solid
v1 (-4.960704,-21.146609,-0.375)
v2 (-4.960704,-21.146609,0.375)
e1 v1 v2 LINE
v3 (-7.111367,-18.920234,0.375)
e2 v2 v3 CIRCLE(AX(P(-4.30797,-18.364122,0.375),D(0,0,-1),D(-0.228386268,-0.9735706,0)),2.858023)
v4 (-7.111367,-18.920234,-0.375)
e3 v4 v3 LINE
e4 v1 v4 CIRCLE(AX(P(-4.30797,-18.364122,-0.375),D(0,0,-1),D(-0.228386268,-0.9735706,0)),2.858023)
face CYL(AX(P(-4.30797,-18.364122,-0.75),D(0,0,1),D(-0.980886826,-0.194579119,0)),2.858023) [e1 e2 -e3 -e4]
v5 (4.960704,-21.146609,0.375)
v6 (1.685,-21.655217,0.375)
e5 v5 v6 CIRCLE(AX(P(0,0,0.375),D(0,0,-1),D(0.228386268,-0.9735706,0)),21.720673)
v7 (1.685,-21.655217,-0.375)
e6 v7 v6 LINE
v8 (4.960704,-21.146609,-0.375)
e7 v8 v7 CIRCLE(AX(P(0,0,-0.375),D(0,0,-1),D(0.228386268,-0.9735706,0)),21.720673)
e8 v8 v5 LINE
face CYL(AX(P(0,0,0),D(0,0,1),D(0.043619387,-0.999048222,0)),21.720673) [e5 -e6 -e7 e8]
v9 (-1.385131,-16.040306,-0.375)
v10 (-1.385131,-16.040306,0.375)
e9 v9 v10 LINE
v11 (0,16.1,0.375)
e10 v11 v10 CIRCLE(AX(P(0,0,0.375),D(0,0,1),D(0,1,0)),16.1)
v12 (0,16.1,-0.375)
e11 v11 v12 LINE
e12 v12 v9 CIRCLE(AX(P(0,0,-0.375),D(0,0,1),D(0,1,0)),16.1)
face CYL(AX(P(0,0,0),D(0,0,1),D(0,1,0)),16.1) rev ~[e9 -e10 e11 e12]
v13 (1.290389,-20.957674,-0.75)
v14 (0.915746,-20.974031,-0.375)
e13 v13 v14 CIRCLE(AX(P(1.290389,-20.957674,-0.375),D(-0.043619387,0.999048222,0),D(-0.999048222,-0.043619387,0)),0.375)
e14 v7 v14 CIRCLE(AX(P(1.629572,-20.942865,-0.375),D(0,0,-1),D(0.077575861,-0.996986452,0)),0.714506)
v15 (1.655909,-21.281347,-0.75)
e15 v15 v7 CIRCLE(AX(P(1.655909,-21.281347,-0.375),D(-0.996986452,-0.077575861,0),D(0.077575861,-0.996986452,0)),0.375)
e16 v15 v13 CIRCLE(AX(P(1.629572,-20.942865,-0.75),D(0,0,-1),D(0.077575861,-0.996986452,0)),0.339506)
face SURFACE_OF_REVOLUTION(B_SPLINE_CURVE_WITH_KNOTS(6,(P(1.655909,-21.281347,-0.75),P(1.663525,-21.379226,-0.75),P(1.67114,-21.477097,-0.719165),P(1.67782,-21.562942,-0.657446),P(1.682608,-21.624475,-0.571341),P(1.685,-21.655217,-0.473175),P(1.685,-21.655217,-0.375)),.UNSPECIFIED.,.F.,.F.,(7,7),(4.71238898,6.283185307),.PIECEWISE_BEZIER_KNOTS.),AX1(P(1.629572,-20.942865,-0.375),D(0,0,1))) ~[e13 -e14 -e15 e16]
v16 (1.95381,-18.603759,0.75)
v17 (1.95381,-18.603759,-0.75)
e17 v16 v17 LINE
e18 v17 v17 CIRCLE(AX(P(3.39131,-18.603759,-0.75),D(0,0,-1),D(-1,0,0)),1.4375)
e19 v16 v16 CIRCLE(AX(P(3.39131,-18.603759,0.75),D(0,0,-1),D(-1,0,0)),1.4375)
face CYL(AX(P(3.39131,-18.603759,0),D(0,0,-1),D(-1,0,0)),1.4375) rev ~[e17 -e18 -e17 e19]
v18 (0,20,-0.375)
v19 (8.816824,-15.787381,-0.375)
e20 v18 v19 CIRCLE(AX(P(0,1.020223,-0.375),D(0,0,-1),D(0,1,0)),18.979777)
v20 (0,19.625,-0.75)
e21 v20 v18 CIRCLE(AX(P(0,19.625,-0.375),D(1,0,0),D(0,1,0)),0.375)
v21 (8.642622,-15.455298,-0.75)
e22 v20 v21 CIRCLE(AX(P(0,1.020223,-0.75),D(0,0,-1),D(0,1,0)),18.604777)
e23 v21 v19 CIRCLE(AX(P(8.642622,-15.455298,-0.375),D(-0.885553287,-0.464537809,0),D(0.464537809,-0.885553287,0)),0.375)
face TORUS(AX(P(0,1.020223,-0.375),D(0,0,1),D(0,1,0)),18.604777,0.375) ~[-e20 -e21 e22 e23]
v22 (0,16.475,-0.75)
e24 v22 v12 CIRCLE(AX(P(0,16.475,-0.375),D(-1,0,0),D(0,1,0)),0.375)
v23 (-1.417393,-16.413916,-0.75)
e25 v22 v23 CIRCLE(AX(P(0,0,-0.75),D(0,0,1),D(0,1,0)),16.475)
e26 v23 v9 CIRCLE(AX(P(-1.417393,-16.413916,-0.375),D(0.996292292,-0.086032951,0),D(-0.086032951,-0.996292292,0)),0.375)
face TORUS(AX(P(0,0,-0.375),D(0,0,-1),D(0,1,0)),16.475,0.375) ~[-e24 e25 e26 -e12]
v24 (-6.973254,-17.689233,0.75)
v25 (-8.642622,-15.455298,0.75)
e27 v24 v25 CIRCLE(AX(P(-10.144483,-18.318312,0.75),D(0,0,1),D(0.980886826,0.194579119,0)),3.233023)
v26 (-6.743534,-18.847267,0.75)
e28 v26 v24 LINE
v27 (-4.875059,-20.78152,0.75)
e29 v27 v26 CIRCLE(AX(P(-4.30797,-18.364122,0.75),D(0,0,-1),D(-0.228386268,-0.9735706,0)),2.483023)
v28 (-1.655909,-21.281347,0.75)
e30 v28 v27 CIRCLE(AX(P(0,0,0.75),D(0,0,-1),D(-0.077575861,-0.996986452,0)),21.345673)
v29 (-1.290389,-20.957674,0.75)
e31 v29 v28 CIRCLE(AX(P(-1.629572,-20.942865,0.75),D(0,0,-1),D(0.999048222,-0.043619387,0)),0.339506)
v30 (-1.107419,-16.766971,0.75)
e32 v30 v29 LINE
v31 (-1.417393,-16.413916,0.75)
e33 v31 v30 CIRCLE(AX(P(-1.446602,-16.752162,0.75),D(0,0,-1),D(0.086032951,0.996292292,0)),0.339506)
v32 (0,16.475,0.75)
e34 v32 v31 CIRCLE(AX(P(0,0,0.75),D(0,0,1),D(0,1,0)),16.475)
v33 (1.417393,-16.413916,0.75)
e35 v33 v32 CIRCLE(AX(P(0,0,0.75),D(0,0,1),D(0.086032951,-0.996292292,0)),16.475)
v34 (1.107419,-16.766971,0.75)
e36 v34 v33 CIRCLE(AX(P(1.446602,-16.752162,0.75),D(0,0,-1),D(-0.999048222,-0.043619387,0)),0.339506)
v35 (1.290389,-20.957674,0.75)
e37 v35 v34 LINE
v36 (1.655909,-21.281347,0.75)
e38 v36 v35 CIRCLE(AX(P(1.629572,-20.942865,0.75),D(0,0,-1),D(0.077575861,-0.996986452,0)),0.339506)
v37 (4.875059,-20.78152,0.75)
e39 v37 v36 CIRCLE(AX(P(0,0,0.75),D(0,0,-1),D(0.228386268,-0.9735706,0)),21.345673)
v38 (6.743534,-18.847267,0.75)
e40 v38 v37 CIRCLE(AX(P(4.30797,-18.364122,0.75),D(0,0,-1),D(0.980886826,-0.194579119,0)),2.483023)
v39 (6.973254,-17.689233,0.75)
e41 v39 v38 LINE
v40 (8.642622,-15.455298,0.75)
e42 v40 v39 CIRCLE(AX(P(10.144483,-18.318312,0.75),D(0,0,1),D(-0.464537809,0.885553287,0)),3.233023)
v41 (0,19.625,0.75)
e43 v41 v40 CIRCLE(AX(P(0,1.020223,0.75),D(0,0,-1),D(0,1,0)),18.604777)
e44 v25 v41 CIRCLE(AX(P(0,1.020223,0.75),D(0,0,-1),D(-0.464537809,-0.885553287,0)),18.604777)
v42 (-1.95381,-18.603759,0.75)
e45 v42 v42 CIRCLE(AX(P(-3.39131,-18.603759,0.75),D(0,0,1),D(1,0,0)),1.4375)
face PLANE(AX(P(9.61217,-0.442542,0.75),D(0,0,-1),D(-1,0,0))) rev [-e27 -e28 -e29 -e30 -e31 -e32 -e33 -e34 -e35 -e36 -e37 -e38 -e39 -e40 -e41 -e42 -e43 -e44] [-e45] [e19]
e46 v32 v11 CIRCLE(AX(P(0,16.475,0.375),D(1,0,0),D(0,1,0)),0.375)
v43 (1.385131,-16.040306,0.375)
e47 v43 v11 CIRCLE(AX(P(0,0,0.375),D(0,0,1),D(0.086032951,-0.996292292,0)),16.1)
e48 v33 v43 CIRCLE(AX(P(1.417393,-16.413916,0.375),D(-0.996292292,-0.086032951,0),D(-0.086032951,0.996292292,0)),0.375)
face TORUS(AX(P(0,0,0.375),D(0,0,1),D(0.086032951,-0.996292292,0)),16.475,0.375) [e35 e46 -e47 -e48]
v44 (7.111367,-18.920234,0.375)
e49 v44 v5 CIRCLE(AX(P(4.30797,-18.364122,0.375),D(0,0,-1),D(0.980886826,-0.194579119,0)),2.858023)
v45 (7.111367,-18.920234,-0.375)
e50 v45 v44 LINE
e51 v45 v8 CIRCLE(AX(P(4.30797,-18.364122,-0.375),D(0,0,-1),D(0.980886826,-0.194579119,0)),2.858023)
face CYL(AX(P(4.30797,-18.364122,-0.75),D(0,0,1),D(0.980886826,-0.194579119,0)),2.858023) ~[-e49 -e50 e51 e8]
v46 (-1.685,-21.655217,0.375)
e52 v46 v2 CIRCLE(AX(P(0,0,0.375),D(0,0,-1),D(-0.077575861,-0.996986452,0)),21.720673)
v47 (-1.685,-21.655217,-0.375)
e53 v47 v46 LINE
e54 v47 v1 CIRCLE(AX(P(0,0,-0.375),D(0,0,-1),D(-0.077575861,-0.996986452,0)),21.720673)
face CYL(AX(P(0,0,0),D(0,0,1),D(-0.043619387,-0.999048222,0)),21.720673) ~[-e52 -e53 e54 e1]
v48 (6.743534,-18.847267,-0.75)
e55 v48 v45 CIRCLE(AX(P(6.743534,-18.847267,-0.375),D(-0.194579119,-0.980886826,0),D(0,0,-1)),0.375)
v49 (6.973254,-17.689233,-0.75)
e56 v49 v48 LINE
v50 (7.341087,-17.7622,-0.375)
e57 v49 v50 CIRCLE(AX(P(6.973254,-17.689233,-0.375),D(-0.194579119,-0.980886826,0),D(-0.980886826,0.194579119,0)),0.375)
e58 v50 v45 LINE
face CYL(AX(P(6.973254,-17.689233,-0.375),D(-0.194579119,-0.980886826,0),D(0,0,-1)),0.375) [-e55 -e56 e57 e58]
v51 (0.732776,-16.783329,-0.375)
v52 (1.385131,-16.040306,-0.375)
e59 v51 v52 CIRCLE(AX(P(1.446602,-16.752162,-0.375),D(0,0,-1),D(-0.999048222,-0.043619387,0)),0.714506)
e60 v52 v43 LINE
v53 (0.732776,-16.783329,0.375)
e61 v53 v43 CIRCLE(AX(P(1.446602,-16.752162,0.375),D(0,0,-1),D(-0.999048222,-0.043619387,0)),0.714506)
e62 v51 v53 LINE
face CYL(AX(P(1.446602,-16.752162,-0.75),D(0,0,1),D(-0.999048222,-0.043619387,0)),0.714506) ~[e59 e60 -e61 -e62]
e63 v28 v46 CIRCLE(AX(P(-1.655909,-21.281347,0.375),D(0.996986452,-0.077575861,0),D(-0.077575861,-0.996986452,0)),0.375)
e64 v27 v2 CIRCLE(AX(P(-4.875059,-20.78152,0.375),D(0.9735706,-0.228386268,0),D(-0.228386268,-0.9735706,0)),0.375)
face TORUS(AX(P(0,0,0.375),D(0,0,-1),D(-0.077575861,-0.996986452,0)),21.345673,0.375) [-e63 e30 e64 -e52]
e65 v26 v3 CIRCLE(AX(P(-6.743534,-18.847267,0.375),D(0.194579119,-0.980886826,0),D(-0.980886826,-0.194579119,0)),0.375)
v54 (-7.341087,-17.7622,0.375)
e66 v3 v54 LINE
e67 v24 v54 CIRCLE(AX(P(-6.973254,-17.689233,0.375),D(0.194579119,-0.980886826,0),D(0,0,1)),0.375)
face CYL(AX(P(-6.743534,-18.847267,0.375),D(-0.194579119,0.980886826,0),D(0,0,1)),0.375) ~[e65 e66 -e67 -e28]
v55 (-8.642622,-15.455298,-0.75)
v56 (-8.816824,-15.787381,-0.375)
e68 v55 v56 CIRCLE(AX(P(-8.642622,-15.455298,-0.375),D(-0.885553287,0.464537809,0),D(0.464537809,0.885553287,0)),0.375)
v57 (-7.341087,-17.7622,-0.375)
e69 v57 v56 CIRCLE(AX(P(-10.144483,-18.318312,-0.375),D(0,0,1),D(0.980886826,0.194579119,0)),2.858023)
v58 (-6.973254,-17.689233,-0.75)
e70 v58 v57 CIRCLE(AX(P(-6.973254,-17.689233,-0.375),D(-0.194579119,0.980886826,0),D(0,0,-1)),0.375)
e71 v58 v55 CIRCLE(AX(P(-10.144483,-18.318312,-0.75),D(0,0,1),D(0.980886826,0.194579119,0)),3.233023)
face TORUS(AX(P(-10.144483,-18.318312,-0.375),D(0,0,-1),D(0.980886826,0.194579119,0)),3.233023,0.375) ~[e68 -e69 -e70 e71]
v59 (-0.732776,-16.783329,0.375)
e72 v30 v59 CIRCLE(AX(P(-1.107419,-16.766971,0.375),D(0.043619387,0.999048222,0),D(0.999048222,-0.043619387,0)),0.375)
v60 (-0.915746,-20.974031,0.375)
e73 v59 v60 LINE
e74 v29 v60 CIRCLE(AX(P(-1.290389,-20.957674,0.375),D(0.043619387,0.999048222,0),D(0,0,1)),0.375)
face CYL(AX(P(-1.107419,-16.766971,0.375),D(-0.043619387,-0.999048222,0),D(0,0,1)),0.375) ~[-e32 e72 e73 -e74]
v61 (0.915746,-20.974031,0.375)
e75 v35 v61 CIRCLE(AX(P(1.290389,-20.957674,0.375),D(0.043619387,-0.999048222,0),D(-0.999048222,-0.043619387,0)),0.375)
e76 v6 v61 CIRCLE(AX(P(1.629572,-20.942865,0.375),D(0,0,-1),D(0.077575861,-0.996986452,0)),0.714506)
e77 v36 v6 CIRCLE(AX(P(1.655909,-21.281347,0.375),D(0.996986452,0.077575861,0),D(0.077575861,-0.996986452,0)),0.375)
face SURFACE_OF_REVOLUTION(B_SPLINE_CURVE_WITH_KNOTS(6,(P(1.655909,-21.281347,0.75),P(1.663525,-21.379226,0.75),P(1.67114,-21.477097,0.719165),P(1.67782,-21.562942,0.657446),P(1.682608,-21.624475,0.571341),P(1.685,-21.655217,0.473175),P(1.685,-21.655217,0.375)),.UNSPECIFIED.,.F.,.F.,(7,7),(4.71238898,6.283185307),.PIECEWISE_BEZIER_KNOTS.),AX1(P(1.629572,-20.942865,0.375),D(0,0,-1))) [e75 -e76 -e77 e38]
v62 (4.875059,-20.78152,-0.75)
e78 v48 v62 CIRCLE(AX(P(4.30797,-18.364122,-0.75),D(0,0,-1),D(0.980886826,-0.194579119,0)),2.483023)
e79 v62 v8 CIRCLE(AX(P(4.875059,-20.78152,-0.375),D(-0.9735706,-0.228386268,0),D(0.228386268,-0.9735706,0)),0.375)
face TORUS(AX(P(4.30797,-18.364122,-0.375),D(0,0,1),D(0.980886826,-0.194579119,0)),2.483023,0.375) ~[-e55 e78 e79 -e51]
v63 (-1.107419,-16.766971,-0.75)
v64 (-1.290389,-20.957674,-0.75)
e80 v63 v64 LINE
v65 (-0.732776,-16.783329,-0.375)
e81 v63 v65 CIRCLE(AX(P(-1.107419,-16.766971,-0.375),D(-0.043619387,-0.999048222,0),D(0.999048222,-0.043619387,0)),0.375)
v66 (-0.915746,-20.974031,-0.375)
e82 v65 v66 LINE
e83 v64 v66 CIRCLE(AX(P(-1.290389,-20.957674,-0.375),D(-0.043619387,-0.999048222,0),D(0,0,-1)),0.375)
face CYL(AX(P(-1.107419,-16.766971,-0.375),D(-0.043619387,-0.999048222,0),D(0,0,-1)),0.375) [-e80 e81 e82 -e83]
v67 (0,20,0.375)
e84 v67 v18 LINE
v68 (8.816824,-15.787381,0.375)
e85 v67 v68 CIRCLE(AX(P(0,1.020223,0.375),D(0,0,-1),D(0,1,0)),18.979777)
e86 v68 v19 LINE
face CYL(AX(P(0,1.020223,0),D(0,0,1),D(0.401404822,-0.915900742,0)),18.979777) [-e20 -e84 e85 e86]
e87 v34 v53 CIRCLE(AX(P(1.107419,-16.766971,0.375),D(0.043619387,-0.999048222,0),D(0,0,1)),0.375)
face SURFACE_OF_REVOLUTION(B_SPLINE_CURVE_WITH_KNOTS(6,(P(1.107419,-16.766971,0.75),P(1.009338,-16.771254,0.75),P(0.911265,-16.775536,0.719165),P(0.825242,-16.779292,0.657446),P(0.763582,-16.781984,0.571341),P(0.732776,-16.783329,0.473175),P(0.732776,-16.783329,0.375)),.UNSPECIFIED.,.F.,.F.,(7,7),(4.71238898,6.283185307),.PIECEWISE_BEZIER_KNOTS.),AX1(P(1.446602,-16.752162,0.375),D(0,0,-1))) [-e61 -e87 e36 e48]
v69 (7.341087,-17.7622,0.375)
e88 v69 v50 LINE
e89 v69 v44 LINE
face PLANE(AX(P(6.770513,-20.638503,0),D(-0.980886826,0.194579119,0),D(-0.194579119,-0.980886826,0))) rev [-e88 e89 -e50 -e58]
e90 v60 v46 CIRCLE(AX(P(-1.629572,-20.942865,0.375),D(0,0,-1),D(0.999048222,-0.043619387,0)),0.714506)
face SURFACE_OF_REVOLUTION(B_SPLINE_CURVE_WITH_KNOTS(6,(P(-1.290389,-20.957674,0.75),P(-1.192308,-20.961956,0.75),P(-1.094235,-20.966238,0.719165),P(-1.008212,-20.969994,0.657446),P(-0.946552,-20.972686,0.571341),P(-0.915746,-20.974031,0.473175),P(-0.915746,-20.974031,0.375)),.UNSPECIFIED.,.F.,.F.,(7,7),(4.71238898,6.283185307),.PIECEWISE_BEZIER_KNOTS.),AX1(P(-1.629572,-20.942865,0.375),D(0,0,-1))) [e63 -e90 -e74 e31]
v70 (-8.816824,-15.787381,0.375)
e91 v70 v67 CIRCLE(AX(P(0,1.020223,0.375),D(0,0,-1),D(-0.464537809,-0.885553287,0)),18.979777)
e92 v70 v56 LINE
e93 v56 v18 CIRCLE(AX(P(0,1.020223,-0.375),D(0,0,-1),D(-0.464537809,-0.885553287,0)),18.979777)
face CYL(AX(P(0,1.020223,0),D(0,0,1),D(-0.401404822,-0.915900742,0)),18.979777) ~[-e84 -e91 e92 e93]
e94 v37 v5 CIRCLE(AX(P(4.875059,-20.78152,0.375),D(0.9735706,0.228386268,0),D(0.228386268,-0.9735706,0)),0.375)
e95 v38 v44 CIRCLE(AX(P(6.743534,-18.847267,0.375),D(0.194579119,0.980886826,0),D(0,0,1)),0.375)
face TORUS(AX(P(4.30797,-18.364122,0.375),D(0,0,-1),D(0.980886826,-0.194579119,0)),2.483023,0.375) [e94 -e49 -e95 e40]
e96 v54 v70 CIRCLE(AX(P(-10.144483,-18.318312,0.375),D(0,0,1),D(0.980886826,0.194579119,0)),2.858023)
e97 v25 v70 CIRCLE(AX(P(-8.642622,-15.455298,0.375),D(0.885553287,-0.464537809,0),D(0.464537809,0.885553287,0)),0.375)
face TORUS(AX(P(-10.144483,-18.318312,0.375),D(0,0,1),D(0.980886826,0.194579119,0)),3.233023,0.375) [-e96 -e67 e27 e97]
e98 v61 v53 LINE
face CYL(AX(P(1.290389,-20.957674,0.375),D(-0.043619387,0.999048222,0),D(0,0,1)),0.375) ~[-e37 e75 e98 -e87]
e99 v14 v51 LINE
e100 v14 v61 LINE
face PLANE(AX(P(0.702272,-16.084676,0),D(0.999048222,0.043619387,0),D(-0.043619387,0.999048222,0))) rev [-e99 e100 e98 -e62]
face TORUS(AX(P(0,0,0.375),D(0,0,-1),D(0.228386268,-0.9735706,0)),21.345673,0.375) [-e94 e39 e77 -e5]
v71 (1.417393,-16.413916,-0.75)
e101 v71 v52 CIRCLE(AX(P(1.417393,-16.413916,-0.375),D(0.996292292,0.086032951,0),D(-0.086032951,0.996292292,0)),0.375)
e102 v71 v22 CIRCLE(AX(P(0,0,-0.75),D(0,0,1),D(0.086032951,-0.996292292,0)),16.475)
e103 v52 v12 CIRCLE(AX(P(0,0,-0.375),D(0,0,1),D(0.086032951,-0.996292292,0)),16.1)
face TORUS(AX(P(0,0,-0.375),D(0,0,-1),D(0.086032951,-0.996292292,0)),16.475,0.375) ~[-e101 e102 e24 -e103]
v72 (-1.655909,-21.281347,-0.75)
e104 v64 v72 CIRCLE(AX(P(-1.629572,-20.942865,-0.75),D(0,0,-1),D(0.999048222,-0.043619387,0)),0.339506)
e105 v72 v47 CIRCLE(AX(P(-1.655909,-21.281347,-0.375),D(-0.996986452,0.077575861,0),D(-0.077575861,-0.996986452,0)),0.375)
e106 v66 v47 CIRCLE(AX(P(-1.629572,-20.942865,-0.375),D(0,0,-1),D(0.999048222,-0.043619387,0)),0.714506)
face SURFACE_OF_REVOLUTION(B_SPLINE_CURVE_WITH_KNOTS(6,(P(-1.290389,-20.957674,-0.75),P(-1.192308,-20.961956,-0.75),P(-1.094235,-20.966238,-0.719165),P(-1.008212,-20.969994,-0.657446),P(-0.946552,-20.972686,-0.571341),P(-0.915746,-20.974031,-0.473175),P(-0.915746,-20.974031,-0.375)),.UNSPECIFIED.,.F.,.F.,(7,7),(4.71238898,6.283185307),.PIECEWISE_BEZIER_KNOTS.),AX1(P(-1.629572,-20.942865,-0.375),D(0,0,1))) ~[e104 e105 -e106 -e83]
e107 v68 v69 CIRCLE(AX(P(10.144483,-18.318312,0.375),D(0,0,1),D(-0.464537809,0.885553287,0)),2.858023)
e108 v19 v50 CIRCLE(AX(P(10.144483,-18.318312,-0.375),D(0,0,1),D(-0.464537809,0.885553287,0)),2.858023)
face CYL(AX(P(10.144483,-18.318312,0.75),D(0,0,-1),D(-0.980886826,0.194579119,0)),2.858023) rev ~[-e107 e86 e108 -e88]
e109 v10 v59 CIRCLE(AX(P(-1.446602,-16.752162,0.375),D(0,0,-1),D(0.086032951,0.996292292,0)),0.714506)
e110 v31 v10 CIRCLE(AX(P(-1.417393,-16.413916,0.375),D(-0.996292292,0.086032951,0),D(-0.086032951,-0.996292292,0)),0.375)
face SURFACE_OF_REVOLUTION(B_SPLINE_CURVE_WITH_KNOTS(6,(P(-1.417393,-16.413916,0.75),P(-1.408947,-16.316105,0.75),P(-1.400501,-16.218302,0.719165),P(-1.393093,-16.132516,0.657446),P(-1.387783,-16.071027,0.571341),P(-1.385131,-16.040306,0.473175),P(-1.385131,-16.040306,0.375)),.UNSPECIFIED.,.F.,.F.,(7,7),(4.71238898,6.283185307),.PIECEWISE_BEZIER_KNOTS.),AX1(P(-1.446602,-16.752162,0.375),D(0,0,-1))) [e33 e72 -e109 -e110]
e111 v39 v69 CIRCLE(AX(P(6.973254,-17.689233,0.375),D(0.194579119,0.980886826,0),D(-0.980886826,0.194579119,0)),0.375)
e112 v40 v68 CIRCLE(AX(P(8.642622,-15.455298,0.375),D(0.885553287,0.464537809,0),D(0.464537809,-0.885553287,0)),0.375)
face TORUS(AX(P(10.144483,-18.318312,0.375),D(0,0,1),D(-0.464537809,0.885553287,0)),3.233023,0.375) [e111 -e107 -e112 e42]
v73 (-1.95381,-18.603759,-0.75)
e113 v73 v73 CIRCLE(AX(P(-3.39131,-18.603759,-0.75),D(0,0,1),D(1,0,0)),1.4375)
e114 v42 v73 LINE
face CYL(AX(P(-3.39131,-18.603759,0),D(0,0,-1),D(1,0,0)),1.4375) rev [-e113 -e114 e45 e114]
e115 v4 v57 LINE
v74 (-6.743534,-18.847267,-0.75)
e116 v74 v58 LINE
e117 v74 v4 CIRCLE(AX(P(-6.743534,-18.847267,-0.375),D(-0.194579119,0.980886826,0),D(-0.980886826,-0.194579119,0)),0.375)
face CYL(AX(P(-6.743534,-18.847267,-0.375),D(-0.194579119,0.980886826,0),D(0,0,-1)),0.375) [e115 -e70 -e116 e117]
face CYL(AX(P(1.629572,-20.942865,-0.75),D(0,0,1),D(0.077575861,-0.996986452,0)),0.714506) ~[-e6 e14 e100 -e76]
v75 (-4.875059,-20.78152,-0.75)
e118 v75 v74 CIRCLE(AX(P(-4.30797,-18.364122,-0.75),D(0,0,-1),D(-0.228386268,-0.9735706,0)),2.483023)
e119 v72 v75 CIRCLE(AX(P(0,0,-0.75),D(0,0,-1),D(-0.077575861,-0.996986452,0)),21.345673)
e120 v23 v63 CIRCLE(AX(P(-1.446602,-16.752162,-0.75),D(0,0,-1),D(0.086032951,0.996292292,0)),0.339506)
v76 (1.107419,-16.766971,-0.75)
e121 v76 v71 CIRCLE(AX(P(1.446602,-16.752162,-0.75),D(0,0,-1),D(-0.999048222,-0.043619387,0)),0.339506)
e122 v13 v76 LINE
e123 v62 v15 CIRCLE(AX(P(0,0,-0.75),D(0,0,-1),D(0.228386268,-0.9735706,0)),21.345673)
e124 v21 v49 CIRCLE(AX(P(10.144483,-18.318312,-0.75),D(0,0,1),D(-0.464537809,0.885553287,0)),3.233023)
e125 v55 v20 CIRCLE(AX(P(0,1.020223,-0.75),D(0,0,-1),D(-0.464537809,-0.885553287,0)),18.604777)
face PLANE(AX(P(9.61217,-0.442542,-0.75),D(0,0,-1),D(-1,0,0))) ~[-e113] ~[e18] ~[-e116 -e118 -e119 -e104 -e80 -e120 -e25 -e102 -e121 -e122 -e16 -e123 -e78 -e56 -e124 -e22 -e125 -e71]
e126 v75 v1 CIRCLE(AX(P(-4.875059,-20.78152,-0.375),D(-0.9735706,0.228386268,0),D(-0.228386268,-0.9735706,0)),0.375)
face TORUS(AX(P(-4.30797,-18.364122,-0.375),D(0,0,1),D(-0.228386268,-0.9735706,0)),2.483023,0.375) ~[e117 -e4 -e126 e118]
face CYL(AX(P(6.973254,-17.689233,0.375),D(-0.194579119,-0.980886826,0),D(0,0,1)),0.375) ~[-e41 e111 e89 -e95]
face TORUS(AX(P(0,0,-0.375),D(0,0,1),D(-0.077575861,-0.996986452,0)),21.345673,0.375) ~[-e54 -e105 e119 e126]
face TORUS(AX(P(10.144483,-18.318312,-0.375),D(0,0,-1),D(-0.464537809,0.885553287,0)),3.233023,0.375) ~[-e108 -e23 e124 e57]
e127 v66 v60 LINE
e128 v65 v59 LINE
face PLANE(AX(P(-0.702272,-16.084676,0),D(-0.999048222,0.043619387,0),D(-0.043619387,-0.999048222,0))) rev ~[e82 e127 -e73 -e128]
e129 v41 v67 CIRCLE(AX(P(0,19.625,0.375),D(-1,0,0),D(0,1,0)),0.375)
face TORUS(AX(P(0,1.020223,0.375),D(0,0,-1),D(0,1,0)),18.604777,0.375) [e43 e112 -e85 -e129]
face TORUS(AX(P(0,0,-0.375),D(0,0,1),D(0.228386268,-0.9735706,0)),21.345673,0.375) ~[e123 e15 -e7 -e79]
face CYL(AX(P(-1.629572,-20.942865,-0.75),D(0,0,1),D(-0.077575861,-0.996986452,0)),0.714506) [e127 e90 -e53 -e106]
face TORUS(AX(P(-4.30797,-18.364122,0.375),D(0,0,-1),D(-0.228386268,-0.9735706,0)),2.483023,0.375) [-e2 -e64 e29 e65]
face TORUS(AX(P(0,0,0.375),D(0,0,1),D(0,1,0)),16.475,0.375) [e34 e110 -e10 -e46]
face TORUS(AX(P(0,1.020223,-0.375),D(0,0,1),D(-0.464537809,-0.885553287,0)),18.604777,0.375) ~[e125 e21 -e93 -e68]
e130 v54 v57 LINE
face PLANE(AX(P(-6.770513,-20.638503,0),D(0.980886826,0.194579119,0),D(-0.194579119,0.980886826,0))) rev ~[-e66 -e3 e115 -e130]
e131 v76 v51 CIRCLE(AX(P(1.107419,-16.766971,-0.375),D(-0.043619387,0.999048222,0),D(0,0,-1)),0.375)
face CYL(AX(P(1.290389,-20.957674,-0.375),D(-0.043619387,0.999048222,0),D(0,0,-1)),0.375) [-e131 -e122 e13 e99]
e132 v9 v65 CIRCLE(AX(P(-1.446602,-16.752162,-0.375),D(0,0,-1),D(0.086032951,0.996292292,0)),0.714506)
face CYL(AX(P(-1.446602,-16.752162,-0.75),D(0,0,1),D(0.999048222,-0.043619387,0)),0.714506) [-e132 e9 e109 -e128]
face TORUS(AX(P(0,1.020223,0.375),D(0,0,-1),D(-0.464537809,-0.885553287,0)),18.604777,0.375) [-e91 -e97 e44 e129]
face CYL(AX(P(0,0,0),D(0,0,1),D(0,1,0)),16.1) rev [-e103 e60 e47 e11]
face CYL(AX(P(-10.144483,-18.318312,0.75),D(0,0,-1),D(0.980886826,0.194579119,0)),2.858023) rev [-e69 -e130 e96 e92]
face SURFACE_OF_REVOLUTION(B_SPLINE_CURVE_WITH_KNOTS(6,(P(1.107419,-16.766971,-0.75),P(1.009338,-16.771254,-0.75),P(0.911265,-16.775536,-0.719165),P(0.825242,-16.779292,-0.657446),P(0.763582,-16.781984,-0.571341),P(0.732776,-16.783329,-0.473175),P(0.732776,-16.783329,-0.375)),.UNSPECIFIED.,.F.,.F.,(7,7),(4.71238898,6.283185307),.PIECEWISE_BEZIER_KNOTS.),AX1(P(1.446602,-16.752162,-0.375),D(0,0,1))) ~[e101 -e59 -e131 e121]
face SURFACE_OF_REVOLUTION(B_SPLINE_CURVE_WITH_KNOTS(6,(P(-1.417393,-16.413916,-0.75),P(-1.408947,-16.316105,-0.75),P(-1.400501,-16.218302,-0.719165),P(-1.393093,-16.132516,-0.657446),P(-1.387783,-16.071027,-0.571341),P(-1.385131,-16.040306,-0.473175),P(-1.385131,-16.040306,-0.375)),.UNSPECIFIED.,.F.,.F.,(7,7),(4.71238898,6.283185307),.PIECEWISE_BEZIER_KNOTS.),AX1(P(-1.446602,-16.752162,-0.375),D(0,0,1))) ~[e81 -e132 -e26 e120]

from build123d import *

# Parameters (mm, degrees)
SKETCH2_R           = 1.4375
BOSS_EXTRUDE1_DEPTH = 0.75
FILLET1_R           = 2.858022524
FILLET2_R           = 0.714505631
FILLET3_R           = 0.375


with BuildPart() as part:
    # Sketch2 → Boss-Extrude1 (new, symmetric)
    with BuildSketch(Plane.XY):
        with BuildLine():
            Line((-6.770512944, -20.638502894), (-7.618573953, -16.363368569))
            ThreePointArc((-7.618573953, -16.363368569), (-18.57644505, 4.912217361), (0, 20))
            Line((0, 20), (0, 16.1))
            ThreePointArc((0, 16.1), (-16.096168636, 0.351219649), (-0.702272137, -16.084676367))
            Line((-0.702272137, -16.084676367), (-0.947442461, -21.7))
            ThreePointArc((-0.947442461, -21.7), (-3.895305243, -21.368533976), (-6.770512944, -20.638502894))
        make_face()
        with Locations((-3.391309861, -18.603759003)):
            Circle(SKETCH2_R, mode=Mode.SUBTRACT)
    extrude(amount=BOSS_EXTRUDE1_DEPTH, both=True)

    # Fillet1
    fillet1_edges = [part.edges().sort_by_distance(p)[0] for p in [
        (-6.770512944, -20.638502894, 0),
        (-7.618573953, -16.363368569, 0),
    ]]
    fillet(fillet1_edges, radius=FILLET1_R)

    # Fillet2
    fillet2_edges = [part.edges().sort_by_distance(p)[0] for p in [
        (-0.702272137, -16.084676367, 0),
        (-0.947442461, -21.7, 0),
    ]]
    fillet(fillet2_edges, radius=FILLET2_R)

    # Mirror1: part across plane


with BuildPart() as part_1:
    add(part.part)
    add(part.part.mirror(Plane(origin=(0, 20, 0.75), x_dir=(0, 0, 1), z_dir=(-1, 0, 0))))

    # Fillet3
    fillet3_edges = [part_1.edges().sort_by_distance(p)[0] for p in [
        (-3.332568695, -21.463495361, -0.75),
        (-3.332568695, -21.463495361, 0.75),
        (-7.226226943, -18.341217043, -0.75),
        (-6.36354693, -20.349795362, -0.75),
        (-7.226226943, -18.341217043, 0.75),
        (-6.36354693, -20.349795362, 0.75),
        (-7.855076454, -16.607490963, -0.75),
        (-7.855076454, -16.607490963, 0.75),
        (-0.824260959, -18.878679749, -0.75),
        (-0.824260959, -18.878679749, 0.75),
        (0, 16.1, -0.75),
        (-0.909673318, -16.280753418, -0.75),
        (-1.155888787, -21.477787852, -0.75),
        (16.085069553, 0.693208105, 0.75),
        (-0.909673318, -16.280753418, 0.75),
        (-18.428734346, 5.560452221, 0.75),
        (-1.155888787, -21.477787852, 0.75),
        (0.824260959, -18.878679749, -0.75),
        (7.226226943, -18.341217043, -0.75),
        (3.332568695, -21.463495361, -0.75),
        (7.226226943, -18.341217043, 0.75),
        (3.332568695, -21.463495361, 0.75),
        (0.824260959, -18.878679749, 0.75),
        (6.36354693, -20.349795362, 0.75),
        (6.36354693, -20.349795362, -0.75),
        (7.855076454, -16.607490963, 0.75),
        (7.855076454, -16.607490963, -0.75),
        (1.155888787, -21.477787852, 0.75),
        (1.155888787, -21.477787852, -0.75),
        (0.909673318, -16.280753418, 0.75),
        (0.909673318, -16.280753418, -0.75),
        (-18.428734346, 5.560452221, -0.75),
    ]]
    fillet(fillet3_edges, radius=FILLET3_R)


solid = part_1.part
